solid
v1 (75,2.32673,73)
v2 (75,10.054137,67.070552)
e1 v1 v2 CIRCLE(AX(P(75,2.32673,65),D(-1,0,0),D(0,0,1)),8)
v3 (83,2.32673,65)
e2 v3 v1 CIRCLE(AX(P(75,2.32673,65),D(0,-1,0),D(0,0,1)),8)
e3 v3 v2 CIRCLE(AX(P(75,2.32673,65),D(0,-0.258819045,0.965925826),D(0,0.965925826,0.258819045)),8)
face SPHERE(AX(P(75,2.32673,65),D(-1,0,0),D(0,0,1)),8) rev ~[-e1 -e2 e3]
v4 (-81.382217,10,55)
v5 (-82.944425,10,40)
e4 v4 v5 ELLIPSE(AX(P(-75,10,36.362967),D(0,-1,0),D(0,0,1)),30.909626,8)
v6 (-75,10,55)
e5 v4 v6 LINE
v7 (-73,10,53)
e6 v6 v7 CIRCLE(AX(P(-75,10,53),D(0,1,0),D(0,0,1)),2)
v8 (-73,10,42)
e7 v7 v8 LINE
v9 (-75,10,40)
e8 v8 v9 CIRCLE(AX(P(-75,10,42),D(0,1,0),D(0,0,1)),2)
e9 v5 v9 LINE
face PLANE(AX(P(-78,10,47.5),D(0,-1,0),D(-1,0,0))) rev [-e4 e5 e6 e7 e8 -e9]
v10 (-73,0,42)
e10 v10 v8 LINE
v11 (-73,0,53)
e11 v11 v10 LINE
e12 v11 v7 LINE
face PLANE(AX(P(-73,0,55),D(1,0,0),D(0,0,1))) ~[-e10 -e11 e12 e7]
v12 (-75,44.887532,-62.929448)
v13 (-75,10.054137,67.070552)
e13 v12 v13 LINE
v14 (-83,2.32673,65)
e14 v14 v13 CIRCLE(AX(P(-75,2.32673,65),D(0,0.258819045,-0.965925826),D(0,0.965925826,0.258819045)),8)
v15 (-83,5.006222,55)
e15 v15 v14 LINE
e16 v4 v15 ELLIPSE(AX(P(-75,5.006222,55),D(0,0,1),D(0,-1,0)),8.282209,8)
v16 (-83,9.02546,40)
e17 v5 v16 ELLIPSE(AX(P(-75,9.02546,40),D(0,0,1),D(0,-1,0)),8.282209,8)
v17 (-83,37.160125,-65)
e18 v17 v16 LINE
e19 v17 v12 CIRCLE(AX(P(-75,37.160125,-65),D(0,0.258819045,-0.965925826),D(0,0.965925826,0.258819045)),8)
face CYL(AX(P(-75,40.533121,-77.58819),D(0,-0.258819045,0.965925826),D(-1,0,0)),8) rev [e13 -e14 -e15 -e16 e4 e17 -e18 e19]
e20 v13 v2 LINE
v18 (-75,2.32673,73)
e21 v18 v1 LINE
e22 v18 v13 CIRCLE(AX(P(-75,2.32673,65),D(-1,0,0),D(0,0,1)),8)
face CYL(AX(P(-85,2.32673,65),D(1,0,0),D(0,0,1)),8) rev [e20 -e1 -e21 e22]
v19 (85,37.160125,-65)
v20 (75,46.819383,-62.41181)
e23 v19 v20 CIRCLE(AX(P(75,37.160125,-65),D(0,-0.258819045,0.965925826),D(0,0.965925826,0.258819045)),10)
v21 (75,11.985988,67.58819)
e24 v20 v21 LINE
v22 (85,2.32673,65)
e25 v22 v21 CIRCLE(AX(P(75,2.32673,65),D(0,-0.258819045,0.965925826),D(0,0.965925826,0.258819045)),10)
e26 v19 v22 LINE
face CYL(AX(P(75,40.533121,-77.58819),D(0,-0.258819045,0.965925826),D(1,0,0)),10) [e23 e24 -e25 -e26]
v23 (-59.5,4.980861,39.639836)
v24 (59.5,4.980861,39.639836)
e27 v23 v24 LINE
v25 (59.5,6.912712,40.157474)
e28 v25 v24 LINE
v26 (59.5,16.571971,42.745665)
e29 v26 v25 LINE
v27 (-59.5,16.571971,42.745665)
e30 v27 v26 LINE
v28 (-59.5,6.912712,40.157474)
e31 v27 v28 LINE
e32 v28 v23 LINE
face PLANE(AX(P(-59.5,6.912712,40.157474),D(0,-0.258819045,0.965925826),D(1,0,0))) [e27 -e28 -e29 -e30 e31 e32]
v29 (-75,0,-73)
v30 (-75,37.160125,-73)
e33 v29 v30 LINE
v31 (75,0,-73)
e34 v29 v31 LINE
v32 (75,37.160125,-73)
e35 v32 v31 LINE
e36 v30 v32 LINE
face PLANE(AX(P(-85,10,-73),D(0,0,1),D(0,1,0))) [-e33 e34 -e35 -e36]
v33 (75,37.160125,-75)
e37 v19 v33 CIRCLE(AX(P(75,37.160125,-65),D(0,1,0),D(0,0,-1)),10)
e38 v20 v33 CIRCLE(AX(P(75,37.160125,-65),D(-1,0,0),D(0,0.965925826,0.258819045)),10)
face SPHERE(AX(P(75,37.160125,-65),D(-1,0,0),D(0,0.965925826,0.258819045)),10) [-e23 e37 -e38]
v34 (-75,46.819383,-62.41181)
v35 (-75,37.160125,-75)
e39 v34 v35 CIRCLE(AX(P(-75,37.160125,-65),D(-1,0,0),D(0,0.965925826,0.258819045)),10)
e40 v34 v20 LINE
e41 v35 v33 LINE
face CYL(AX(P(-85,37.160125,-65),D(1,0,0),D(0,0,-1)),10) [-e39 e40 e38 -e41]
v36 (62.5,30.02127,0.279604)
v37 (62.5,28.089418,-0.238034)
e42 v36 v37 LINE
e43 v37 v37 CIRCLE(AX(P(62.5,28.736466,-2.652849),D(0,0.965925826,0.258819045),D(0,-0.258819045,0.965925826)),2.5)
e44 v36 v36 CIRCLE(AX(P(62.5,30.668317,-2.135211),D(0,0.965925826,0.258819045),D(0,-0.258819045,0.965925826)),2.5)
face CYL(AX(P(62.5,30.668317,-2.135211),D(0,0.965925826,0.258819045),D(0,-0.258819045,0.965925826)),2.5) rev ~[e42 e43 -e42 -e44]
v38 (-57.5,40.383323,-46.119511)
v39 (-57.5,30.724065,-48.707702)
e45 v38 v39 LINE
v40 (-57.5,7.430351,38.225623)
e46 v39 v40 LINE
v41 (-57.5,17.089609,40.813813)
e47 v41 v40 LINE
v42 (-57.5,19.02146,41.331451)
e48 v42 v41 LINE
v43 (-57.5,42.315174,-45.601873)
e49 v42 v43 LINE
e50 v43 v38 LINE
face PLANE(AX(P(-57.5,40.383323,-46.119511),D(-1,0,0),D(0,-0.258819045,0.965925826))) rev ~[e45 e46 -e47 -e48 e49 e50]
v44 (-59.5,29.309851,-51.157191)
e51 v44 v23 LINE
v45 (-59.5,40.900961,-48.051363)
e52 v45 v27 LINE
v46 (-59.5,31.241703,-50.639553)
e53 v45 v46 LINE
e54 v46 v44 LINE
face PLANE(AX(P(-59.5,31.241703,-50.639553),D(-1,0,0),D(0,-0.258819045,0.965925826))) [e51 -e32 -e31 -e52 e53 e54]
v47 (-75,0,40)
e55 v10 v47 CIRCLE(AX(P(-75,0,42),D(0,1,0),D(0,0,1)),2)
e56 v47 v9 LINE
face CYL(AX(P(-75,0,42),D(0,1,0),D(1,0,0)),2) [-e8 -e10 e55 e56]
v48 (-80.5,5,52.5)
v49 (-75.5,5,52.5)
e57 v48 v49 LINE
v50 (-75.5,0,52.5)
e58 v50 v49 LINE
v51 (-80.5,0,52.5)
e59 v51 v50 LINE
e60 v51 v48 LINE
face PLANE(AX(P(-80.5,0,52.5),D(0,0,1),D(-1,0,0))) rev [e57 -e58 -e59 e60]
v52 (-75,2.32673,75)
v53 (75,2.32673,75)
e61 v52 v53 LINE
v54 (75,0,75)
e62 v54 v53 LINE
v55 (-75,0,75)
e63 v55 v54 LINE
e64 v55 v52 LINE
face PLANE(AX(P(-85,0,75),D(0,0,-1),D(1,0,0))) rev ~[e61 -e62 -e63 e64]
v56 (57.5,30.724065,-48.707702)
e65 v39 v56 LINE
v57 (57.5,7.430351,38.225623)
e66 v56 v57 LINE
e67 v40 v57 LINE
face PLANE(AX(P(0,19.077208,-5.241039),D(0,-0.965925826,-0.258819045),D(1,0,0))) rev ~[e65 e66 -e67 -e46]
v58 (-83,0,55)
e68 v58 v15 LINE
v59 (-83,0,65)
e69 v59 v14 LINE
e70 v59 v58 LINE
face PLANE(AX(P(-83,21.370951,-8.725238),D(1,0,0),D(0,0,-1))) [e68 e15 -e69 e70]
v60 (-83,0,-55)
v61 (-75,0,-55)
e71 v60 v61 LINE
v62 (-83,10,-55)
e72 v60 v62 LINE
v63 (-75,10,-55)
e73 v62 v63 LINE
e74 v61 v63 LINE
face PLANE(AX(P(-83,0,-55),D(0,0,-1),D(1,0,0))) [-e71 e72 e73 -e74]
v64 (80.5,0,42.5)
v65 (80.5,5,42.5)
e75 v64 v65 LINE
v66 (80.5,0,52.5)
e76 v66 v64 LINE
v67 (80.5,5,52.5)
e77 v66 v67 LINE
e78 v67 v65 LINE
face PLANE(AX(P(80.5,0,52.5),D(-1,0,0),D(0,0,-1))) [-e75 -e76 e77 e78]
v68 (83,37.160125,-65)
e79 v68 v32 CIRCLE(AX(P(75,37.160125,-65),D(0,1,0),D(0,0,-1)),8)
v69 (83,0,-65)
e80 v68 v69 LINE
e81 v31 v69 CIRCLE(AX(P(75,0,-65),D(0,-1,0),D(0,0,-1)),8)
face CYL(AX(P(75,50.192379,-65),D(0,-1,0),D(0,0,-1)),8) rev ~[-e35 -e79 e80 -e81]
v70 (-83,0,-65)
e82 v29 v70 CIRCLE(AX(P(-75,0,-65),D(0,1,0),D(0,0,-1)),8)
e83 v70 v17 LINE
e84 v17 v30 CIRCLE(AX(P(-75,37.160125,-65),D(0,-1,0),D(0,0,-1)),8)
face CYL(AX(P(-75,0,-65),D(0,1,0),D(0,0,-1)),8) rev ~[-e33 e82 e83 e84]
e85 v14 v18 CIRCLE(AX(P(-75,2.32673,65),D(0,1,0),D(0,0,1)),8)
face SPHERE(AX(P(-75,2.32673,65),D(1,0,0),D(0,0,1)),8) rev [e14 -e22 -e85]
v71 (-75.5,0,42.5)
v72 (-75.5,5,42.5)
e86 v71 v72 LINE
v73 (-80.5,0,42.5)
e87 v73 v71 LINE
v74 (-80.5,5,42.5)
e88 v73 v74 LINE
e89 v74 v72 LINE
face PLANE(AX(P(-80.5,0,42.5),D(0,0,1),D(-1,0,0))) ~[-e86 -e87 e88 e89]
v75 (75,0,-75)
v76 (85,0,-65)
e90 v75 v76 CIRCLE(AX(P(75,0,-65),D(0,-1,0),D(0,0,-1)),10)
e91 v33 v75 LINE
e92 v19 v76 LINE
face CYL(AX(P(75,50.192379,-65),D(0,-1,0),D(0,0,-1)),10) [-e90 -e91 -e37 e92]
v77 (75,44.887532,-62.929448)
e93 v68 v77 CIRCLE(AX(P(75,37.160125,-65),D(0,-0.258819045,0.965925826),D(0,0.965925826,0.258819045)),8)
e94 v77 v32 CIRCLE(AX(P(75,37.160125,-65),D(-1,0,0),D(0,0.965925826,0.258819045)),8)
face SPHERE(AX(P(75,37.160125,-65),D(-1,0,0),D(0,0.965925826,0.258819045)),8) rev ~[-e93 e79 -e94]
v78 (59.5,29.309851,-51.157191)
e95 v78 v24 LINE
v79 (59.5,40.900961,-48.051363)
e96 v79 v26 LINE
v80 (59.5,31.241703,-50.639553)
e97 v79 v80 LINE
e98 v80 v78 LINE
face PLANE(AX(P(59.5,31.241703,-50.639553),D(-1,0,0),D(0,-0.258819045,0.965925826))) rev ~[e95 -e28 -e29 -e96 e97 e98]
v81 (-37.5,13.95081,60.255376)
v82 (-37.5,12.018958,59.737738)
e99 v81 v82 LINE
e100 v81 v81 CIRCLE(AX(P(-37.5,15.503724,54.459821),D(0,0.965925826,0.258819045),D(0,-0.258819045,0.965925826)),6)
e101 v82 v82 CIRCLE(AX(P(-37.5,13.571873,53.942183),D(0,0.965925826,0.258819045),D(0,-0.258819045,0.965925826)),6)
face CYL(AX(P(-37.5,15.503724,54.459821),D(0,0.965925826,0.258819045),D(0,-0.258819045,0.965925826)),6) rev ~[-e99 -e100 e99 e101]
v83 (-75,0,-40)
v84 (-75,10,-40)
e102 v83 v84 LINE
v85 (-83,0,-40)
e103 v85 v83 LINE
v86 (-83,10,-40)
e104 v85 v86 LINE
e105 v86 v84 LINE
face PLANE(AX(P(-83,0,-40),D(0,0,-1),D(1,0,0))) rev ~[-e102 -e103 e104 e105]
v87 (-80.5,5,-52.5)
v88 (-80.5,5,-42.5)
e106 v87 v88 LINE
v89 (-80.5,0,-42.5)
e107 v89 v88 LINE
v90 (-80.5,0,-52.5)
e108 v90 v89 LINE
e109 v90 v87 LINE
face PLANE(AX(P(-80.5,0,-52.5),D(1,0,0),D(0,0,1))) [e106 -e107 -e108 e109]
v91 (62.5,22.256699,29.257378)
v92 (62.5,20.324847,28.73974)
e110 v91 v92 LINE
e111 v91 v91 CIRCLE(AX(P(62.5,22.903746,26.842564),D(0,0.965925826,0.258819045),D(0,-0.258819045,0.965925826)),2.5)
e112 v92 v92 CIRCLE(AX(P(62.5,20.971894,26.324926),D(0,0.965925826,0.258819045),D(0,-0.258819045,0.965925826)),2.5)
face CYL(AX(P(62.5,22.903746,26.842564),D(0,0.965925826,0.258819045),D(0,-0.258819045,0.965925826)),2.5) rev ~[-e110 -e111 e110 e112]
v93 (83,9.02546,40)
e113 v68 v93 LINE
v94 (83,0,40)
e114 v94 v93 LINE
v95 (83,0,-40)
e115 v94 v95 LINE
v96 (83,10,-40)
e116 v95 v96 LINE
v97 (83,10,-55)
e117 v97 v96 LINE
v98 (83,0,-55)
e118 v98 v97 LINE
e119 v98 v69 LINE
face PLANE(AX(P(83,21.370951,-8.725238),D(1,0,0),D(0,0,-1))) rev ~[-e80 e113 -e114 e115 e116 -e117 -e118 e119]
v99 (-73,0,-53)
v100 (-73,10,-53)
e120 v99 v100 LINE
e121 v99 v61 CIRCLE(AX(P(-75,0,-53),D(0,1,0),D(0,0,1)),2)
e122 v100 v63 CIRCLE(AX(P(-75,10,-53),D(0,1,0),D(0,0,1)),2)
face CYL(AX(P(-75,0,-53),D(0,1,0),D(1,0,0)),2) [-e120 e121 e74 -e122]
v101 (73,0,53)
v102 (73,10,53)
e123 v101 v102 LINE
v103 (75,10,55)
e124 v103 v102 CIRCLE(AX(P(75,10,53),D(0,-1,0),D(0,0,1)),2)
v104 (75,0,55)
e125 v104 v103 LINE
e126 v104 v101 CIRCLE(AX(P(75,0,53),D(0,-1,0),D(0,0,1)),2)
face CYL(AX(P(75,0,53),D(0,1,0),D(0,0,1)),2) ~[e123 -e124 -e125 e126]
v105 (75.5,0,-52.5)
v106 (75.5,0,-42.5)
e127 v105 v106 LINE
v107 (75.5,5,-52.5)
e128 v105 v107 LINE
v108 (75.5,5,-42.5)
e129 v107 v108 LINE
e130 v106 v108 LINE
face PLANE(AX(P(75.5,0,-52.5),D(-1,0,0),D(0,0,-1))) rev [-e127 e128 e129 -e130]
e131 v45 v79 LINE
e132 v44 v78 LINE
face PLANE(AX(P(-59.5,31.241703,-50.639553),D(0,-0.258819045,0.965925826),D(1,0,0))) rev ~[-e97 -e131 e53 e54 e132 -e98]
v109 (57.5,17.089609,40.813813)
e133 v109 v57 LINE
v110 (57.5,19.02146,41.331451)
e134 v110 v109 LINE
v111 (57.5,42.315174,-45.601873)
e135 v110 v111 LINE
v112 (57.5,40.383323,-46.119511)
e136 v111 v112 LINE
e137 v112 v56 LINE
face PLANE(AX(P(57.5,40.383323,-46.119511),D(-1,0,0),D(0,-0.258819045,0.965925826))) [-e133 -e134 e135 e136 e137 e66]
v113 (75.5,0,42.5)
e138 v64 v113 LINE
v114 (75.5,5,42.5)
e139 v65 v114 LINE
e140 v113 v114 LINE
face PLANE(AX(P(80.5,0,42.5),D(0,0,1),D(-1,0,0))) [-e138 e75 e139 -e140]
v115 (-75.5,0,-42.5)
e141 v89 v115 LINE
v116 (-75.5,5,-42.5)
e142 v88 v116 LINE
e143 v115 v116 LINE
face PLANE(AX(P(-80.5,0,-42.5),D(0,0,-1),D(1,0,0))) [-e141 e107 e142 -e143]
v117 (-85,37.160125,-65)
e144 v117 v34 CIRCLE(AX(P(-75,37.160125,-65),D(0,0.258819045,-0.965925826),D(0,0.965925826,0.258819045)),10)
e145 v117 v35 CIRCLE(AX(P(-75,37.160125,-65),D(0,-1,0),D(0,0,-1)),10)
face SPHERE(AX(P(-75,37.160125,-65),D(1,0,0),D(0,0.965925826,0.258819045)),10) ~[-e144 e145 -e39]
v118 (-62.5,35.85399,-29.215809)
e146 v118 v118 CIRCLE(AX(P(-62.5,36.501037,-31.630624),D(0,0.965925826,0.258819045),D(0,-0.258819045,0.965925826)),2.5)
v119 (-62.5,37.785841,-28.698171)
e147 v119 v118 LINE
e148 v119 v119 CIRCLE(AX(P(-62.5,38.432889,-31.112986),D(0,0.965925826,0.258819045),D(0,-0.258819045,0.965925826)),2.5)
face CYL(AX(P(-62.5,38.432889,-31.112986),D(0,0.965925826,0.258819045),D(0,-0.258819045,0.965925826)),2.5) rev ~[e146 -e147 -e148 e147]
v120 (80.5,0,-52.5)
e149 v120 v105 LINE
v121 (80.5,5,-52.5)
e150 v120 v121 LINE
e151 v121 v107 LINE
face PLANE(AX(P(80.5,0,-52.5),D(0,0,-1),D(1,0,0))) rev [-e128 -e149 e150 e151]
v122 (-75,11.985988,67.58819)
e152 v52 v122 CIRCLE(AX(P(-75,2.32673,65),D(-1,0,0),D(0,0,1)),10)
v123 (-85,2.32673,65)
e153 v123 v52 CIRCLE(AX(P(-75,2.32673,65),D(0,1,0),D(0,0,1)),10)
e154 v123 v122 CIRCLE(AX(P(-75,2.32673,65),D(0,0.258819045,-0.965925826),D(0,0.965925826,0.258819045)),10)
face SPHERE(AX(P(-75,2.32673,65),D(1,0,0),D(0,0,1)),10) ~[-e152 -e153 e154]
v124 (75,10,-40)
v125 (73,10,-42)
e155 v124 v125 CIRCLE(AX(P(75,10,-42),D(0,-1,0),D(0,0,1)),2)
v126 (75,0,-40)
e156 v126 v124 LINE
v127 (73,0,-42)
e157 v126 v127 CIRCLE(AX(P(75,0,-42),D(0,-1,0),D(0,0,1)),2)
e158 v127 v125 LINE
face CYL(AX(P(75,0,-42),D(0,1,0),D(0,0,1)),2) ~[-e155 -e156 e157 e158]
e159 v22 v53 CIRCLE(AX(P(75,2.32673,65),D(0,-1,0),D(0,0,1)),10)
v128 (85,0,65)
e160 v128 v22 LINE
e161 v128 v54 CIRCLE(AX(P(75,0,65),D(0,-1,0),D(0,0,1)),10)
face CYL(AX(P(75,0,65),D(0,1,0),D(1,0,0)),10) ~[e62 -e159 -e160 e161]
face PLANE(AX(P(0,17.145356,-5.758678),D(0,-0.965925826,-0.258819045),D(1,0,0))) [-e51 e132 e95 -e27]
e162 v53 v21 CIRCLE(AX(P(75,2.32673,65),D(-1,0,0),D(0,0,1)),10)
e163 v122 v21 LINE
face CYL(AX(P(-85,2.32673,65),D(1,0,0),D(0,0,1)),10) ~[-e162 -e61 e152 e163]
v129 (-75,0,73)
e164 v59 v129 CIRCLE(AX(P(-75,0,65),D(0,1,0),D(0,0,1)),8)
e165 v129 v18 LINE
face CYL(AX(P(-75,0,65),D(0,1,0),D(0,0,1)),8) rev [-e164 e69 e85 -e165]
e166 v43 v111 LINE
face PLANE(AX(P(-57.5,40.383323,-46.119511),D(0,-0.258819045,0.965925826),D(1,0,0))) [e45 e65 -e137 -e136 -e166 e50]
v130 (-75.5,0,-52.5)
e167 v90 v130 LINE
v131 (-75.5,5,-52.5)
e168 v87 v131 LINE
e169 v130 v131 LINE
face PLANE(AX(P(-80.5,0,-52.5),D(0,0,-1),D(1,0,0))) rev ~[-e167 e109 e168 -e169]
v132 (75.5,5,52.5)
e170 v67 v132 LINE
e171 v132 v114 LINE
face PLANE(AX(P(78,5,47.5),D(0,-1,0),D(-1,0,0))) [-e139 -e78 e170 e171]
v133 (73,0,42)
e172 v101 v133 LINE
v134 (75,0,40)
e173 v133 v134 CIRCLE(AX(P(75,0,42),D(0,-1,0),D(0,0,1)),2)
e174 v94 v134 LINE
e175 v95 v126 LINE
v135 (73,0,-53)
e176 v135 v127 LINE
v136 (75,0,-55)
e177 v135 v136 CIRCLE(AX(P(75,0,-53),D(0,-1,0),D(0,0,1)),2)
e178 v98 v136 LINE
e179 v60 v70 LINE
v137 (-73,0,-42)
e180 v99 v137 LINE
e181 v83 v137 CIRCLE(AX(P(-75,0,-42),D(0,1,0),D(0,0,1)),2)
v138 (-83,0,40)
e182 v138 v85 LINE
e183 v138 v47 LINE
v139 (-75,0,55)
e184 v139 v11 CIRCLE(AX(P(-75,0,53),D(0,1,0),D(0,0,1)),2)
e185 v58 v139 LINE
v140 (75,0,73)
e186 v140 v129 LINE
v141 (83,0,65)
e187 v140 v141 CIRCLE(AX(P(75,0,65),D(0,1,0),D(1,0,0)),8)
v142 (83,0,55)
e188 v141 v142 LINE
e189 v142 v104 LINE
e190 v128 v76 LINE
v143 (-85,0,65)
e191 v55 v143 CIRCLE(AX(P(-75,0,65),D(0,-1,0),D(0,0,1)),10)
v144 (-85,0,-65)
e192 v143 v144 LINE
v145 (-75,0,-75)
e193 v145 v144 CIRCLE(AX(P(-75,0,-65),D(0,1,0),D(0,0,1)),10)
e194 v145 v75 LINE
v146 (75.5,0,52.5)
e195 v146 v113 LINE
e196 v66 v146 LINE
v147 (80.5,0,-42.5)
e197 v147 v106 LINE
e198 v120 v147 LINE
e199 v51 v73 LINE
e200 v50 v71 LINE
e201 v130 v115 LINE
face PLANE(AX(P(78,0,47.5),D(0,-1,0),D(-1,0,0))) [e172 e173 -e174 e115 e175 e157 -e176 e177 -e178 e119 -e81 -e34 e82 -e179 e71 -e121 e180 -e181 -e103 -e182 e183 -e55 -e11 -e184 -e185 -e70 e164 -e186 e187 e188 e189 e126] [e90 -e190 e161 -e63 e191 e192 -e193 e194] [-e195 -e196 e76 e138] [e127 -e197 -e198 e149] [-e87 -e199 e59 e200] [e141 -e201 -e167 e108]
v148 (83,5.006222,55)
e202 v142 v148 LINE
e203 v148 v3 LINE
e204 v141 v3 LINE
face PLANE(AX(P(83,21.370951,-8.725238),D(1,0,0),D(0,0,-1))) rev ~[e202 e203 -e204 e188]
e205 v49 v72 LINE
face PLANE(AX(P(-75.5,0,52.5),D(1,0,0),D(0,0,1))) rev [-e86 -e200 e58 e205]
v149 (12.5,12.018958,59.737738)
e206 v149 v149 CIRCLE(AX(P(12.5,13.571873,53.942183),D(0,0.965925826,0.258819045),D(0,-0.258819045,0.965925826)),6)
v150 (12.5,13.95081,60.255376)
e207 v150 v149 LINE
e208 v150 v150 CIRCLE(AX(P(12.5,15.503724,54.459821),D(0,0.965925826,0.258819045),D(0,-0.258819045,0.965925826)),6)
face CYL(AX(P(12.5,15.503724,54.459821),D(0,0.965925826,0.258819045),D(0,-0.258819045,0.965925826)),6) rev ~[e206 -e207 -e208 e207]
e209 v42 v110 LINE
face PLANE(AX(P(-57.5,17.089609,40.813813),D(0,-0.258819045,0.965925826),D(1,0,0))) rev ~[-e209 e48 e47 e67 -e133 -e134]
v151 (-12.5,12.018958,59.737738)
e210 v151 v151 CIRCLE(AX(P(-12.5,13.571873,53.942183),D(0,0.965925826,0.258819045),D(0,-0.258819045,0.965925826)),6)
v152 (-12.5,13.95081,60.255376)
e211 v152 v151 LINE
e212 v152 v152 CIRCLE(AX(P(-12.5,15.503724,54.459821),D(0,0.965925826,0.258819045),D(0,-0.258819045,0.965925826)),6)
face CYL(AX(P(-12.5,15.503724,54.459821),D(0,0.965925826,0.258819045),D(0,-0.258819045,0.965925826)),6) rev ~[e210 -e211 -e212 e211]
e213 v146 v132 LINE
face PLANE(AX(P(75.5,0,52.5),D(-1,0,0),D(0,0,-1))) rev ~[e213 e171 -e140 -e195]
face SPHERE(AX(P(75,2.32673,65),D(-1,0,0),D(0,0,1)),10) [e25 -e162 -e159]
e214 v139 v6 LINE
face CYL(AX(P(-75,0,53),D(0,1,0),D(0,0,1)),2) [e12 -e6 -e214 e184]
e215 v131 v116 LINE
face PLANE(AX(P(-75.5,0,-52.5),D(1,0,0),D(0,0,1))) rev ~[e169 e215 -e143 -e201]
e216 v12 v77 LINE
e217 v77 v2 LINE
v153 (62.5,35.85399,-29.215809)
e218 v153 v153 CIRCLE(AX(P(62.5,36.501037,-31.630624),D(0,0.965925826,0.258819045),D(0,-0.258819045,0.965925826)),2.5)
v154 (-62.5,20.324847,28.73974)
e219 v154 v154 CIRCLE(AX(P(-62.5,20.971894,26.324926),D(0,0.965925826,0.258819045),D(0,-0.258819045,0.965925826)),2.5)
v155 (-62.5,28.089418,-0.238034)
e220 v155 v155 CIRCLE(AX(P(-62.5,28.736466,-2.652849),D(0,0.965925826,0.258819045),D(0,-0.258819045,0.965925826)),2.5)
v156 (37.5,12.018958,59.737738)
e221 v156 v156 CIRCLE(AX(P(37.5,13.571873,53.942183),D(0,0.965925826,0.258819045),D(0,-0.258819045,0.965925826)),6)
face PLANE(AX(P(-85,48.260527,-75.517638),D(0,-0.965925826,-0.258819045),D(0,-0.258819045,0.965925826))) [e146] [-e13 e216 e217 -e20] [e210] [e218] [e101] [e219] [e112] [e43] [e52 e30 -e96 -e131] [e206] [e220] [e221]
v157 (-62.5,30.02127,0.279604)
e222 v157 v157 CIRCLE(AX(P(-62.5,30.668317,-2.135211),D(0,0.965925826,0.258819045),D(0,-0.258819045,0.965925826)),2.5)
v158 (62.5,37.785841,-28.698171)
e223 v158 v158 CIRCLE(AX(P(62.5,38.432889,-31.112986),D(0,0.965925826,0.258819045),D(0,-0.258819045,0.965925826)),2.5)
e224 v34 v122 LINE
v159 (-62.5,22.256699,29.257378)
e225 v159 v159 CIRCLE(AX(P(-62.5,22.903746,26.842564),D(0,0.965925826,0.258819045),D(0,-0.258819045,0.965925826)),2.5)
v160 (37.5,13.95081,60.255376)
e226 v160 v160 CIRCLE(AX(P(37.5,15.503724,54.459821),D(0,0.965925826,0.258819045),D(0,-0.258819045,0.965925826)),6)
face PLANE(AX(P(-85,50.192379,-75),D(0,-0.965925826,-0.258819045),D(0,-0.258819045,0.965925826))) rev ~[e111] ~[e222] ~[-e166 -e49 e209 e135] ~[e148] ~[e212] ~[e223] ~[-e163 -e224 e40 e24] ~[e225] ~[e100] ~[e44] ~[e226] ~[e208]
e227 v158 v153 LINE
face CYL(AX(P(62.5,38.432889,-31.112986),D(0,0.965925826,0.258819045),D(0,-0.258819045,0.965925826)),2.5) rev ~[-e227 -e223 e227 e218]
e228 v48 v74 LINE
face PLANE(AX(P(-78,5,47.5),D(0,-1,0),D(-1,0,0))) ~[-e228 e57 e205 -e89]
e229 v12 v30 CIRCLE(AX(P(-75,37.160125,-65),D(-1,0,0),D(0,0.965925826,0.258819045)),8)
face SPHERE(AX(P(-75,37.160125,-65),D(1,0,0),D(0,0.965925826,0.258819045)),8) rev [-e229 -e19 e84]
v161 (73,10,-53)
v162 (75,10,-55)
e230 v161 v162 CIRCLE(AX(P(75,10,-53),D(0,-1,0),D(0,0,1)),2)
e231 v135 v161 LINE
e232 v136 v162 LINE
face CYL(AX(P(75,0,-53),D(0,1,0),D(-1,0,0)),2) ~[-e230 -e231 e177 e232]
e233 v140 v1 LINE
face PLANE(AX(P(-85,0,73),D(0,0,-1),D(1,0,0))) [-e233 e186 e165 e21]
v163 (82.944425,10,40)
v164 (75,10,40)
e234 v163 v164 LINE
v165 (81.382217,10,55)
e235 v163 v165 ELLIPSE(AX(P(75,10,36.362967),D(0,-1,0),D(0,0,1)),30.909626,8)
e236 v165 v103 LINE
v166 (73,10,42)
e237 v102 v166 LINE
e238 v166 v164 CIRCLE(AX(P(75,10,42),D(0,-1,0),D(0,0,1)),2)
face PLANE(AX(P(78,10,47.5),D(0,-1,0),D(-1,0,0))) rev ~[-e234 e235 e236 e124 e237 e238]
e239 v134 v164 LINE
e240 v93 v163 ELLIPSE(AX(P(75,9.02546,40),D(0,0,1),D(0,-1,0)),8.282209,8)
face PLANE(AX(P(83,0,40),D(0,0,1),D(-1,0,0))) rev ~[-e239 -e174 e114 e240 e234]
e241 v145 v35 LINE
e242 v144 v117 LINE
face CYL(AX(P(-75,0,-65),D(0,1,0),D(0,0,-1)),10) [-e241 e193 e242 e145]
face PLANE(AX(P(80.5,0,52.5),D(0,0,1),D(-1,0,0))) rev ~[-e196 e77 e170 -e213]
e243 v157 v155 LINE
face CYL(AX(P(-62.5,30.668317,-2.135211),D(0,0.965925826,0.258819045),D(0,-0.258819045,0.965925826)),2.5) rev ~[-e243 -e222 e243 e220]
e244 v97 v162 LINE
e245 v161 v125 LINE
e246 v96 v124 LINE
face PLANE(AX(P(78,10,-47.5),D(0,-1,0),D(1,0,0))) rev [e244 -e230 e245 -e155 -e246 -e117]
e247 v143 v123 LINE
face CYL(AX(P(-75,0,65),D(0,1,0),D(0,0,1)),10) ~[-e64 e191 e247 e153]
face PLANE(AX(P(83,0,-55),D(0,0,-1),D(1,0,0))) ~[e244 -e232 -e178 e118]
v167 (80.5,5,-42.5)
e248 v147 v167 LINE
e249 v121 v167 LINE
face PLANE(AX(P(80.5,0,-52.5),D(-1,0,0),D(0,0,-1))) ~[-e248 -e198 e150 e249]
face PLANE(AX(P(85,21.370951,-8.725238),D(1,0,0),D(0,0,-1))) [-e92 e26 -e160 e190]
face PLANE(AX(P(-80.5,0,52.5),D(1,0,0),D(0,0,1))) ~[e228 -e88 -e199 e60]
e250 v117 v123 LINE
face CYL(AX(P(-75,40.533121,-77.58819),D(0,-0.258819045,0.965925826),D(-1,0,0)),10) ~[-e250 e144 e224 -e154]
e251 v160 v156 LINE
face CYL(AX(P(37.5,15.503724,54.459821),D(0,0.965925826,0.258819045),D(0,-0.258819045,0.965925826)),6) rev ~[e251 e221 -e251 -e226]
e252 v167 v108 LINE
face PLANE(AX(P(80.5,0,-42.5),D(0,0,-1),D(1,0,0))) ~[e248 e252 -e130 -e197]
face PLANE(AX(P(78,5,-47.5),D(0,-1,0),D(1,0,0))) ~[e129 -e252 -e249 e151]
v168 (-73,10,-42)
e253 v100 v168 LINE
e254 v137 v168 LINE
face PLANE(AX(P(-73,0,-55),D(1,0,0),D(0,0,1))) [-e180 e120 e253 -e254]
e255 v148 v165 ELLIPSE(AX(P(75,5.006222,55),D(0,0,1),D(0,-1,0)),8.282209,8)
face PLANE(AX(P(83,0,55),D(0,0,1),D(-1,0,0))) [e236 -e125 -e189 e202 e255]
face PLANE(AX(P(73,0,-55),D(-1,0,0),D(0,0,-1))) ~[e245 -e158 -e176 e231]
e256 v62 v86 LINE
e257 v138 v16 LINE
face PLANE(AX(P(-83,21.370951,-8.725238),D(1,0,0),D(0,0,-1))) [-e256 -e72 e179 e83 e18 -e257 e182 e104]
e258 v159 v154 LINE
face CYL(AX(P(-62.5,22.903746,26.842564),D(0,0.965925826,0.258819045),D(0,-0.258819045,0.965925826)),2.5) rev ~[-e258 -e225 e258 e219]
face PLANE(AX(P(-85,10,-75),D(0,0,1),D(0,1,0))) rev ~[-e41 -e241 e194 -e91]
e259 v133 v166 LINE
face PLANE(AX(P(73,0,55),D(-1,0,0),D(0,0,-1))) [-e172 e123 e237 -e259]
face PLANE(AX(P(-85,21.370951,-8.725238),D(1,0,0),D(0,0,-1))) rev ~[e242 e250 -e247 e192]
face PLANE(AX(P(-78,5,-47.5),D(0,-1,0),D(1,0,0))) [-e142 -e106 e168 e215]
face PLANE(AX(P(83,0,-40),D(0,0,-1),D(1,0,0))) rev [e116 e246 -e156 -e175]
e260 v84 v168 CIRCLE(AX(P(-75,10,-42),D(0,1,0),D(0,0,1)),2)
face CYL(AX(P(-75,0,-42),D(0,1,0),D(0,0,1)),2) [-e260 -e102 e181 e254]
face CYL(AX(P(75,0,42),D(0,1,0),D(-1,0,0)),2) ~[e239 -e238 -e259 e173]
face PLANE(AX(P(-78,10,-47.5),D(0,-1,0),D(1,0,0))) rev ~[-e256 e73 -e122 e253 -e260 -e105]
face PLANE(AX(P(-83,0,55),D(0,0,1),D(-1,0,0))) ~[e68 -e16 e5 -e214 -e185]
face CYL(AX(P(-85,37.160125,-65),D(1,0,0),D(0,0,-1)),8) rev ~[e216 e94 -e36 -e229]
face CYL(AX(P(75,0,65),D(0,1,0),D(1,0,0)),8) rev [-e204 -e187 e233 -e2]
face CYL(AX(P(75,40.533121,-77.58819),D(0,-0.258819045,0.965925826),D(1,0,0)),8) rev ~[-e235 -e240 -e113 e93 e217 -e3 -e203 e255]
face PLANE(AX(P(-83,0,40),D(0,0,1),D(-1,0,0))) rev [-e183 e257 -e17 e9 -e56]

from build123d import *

# Parameters (mm, degrees)
SKETCH1_W                                  = 170
SKETCH1_H                                  = 150
BOSS_EXTRUDE1_DEPTH                        = 10
BOSS_EXTRUDE2_DEPTH                        = 170
FILLET1_R                                  = 10
SHELL1_T                                   = -2
SKETCH3_W                                  = 115
SKETCH3_H                                  = 90
CUT_EXTRUDE1_DEPTH                         = 2
SKETCH4_W                                  = 119
SKETCH4_H                                  = 94
SKETCH4_W_2                                = 115
SKETCH4_H_2                                = 90
BOSS_EXTRUDE3_DEPTH                        = 10
SKETCH5_W                                  = 119
SKETCH5_H                                  = 94
BOSS_EXTRUDE4_DEPTH                        = 2
SKETCH6_R                                  = 2.5
CUT_EXTRUDE2_DEPTH                         = 2
SKETCH7_R                                  = 6
CUT_EXTRUDE3_DEPTH                         = 2
SKETCH9_W                                  = 10
SKETCH9_H                                  = 15
BOSS_EXTRUDE5_DEPTH                        = 10
SKETCH10_W                                 = 5
SKETCH10_H                                 = 10
CUT_EXTRUDE4_DEPTH                         = 5
MIRROR1_AT_THE_SECOND_PLANE_COPY_1_SKETC_W = 10
MIRROR1_AT_THE_SECOND_PLANE_COPY_1_SKETC_H = 15
MIRROR1_AT_THE_SECOND_PLANE_COPY_1_DEPTH   = 10
MIRROR1_AT_THE_SECOND_PLANE_COPY_2_SKETC_W = 5
MIRROR1_AT_THE_SECOND_PLANE_COPY_2_SKETC_H = 10
MIRROR1_AT_THE_SECOND_PLANE_COPY_2_DEPTH   = 5
FILLET2_R                                  = 2


with BuildPart() as part:
    # Sketch1 → Boss-Extrude1 (new body)
    with BuildSketch(Plane(origin=(0, 0, 0), x_dir=(1, 0, 0), z_dir=(0, 1, 0))):
        Rectangle(SKETCH1_W, SKETCH1_H)
    extrude(amount=BOSS_EXTRUDE1_DEPTH)

    # Sketch2 → Boss-Extrude2 (add)
    with BuildSketch(Plane.ZY.offset(85)):
        Polygon((-75, 10), (-75, 50.192378865), (75, 10), align=None)
    extrude(amount=-BOSS_EXTRUDE2_DEPTH)

    # Fillet1
    fillet1_edges = [part.edges().sort_by_distance(p)[0] for p in [
        (0, 50.192378865, -75),
        (-85, 30.096189432, 0),
        (85, 30.096189432, 0),
        (0, 10, 75),
        (85, 5, 75),
        (-85, 5, 75),
        (-85, 25.096189432, -75),
        (85, 25.096189432, -75),
    ]]
    fillet(fillet1_edges, radius=FILLET1_R)

    # Shell1
    shell1_openings = [part.faces().sort_by_distance(p)[0] for p in [
        (0, 0, 0),
    ]]
    offset(amount=SHELL1_T, openings=shell1_openings, kind=Kind.INTERSECTION)

    # Sketch3 → Cut-Extrude1 (cut)
    with BuildSketch(Plane(origin=(0, 28.080127019, 7.524047358), x_dir=(1, 0, 0), z_dir=(0, 0.96592582628907, 0.25881904510251436))):
        with Locations((0, 10)):
            Rectangle(SKETCH3_W, SKETCH3_H)
    extrude(amount=-CUT_EXTRUDE1_DEPTH, mode=Mode.SUBTRACT)

    # Sketch4 → Boss-Extrude3 (add)
    with BuildSketch(Plane(origin=(0, 26.148275366, 7.006409268), x_dir=(1, 0, 0), z_dir=(0, -0.96592582628907, -0.25881904510251436))):
        with Locations((0, -10)):
            Rectangle(SKETCH4_W, SKETCH4_H)
        with Locations((0, -10)):
            Rectangle(SKETCH4_W_2, SKETCH4_H_2, mode=Mode.SUBTRACT)
    extrude(amount=BOSS_EXTRUDE3_DEPTH)

    # Sketch5 → Boss-Extrude4 (add)
    with BuildSketch(Plane(origin=(0, 16.489017103, 4.418218817), x_dir=(1, 0, 0), z_dir=(0, -0.96592582628907, -0.25881904510251436))):
        with Locations((0, -10)):
            Rectangle(SKETCH5_W, SKETCH5_H)
    extrude(amount=BOSS_EXTRUDE4_DEPTH)

    # Sketch6 → Cut-Extrude2 (cut)
    with BuildSketch(Plane(origin=(0, 28.080127019, 7.524047358), x_dir=(1, 0, 0), z_dir=(0, 0.96592582628907, 0.25881904510251436))):
        with Locations(Location((-62.5, 10, 0), (0, 0, 270))):
            Circle(SKETCH6_R)
        with Locations(Location((-62.5, 40, 0), (0, 0, 270))):
            Circle(SKETCH6_R)
        with Locations(Location((-62.5, -20, 0), (0, 0, 270))):
            Circle(SKETCH6_R)
        with Locations(Location((62.5, -20, 0), (0, 0, 270))):
            Circle(SKETCH6_R)
        with Locations(Location((62.5, 40, 0), (0, 0, 270))):
            Circle(SKETCH6_R)
        with Locations(Location((62.5, 10, 0), (0, 0, 270))):
            Circle(SKETCH6_R)
    extrude(amount=-CUT_EXTRUDE2_DEPTH, mode=Mode.SUBTRACT)

    # Sketch7 → Cut-Extrude3 (cut)
    with BuildSketch(Plane(origin=(0, 28.080127019, 7.524047358), x_dir=(1, 0, 0), z_dir=(0, 0.96592582628907, 0.25881904510251436))):
        with Locations(Location((-12.5, -48.59148832, 0), (0, 0, 270))):
            Circle(SKETCH7_R)
        with Locations(Location((12.5, -48.59148832, 0), (0, 0, 270))):
            Circle(SKETCH7_R)
        with Locations(Location((37.5, -48.59148832, 0), (0, 0, 270))):
            Circle(SKETCH7_R)
        with Locations(Location((-37.5, -48.59148832, 0), (0, 0, 270))):
            Circle(SKETCH7_R)
    extrude(amount=-CUT_EXTRUDE3_DEPTH, mode=Mode.SUBTRACT)

    # Sketch9 → Boss-Extrude5 (add)
    with BuildSketch(Plane.XZ):
        with Locations((-78, -47.5)):
            Rectangle(SKETCH9_W, SKETCH9_H)
    boss_extrude5 = extrude(amount=-BOSS_EXTRUDE5_DEPTH)

    # Sketch10 → Cut-Extrude4 (cut)
    with BuildSketch(Plane.XZ):
        with Locations((-78, -47.5)):
            Rectangle(SKETCH10_W, SKETCH10_H)
    cut_extrude4 = extrude(amount=-CUT_EXTRUDE4_DEPTH, mode=Mode.SUBTRACT)

    # Mirror1: Boss-Extrude5, Cut-Extrude4 across plane
    add(boss_extrude5.mirror(Plane(origin=(0, 0, 0), x_dir=(0, 0, 1), z_dir=(1, 0, 0))))
    add(cut_extrude4.mirror(Plane(origin=(0, 0, 0), x_dir=(0, 0, 1), z_dir=(1, 0, 0))), mode=Mode.SUBTRACT)

    # Mirror1 at the second plane: Boss-Extrude5, Cut-Extrude4 across plane
    add(boss_extrude5.mirror(Plane.XY))
    add(cut_extrude4.mirror(Plane.XY), mode=Mode.SUBTRACT)

    # Mirror1 at the second plane copy 1 sketc → Mirror1 at the second plane copy 1 (add)
    with BuildSketch(Plane(origin=(0, 0, 0), x_dir=(-1, 0, 0), z_dir=(0, -1, 0))):
        with Locations((-78, -47.5)):
            Rectangle(MIRROR1_AT_THE_SECOND_PLANE_COPY_1_SKETC_W, MIRROR1_AT_THE_SECOND_PLANE_COPY_1_SKETC_H)
    extrude(amount=-MIRROR1_AT_THE_SECOND_PLANE_COPY_1_DEPTH)

    # Mirror1 at the second plane copy 2 sketc → Mirror1 at the second plane copy 2 (cut)
    with BuildSketch(Plane(origin=(0, 0, 0), x_dir=(-1, 0, 0), z_dir=(0, -1, 0))):
        with Locations((-78, -47.5)):
            Rectangle(MIRROR1_AT_THE_SECOND_PLANE_COPY_2_SKETC_W, MIRROR1_AT_THE_SECOND_PLANE_COPY_2_SKETC_H)
    extrude(amount=-MIRROR1_AT_THE_SECOND_PLANE_COPY_2_DEPTH, mode=Mode.SUBTRACT)

    # Fillet2
    fillet2_edges = [part.edges().sort_by_distance(p)[0] for p in [
        (-73, 5, -40),
        (-73, 5, -55),
        (-73, 5, 40),
        (-73, 5, 55),
        (73, 5, -55),
        (73, 5, -40),
        (73, 5, 55),
        (73, 5, 40),
    ]]
    fillet(fillet2_edges, radius=FILLET2_R)


solid = part.part
